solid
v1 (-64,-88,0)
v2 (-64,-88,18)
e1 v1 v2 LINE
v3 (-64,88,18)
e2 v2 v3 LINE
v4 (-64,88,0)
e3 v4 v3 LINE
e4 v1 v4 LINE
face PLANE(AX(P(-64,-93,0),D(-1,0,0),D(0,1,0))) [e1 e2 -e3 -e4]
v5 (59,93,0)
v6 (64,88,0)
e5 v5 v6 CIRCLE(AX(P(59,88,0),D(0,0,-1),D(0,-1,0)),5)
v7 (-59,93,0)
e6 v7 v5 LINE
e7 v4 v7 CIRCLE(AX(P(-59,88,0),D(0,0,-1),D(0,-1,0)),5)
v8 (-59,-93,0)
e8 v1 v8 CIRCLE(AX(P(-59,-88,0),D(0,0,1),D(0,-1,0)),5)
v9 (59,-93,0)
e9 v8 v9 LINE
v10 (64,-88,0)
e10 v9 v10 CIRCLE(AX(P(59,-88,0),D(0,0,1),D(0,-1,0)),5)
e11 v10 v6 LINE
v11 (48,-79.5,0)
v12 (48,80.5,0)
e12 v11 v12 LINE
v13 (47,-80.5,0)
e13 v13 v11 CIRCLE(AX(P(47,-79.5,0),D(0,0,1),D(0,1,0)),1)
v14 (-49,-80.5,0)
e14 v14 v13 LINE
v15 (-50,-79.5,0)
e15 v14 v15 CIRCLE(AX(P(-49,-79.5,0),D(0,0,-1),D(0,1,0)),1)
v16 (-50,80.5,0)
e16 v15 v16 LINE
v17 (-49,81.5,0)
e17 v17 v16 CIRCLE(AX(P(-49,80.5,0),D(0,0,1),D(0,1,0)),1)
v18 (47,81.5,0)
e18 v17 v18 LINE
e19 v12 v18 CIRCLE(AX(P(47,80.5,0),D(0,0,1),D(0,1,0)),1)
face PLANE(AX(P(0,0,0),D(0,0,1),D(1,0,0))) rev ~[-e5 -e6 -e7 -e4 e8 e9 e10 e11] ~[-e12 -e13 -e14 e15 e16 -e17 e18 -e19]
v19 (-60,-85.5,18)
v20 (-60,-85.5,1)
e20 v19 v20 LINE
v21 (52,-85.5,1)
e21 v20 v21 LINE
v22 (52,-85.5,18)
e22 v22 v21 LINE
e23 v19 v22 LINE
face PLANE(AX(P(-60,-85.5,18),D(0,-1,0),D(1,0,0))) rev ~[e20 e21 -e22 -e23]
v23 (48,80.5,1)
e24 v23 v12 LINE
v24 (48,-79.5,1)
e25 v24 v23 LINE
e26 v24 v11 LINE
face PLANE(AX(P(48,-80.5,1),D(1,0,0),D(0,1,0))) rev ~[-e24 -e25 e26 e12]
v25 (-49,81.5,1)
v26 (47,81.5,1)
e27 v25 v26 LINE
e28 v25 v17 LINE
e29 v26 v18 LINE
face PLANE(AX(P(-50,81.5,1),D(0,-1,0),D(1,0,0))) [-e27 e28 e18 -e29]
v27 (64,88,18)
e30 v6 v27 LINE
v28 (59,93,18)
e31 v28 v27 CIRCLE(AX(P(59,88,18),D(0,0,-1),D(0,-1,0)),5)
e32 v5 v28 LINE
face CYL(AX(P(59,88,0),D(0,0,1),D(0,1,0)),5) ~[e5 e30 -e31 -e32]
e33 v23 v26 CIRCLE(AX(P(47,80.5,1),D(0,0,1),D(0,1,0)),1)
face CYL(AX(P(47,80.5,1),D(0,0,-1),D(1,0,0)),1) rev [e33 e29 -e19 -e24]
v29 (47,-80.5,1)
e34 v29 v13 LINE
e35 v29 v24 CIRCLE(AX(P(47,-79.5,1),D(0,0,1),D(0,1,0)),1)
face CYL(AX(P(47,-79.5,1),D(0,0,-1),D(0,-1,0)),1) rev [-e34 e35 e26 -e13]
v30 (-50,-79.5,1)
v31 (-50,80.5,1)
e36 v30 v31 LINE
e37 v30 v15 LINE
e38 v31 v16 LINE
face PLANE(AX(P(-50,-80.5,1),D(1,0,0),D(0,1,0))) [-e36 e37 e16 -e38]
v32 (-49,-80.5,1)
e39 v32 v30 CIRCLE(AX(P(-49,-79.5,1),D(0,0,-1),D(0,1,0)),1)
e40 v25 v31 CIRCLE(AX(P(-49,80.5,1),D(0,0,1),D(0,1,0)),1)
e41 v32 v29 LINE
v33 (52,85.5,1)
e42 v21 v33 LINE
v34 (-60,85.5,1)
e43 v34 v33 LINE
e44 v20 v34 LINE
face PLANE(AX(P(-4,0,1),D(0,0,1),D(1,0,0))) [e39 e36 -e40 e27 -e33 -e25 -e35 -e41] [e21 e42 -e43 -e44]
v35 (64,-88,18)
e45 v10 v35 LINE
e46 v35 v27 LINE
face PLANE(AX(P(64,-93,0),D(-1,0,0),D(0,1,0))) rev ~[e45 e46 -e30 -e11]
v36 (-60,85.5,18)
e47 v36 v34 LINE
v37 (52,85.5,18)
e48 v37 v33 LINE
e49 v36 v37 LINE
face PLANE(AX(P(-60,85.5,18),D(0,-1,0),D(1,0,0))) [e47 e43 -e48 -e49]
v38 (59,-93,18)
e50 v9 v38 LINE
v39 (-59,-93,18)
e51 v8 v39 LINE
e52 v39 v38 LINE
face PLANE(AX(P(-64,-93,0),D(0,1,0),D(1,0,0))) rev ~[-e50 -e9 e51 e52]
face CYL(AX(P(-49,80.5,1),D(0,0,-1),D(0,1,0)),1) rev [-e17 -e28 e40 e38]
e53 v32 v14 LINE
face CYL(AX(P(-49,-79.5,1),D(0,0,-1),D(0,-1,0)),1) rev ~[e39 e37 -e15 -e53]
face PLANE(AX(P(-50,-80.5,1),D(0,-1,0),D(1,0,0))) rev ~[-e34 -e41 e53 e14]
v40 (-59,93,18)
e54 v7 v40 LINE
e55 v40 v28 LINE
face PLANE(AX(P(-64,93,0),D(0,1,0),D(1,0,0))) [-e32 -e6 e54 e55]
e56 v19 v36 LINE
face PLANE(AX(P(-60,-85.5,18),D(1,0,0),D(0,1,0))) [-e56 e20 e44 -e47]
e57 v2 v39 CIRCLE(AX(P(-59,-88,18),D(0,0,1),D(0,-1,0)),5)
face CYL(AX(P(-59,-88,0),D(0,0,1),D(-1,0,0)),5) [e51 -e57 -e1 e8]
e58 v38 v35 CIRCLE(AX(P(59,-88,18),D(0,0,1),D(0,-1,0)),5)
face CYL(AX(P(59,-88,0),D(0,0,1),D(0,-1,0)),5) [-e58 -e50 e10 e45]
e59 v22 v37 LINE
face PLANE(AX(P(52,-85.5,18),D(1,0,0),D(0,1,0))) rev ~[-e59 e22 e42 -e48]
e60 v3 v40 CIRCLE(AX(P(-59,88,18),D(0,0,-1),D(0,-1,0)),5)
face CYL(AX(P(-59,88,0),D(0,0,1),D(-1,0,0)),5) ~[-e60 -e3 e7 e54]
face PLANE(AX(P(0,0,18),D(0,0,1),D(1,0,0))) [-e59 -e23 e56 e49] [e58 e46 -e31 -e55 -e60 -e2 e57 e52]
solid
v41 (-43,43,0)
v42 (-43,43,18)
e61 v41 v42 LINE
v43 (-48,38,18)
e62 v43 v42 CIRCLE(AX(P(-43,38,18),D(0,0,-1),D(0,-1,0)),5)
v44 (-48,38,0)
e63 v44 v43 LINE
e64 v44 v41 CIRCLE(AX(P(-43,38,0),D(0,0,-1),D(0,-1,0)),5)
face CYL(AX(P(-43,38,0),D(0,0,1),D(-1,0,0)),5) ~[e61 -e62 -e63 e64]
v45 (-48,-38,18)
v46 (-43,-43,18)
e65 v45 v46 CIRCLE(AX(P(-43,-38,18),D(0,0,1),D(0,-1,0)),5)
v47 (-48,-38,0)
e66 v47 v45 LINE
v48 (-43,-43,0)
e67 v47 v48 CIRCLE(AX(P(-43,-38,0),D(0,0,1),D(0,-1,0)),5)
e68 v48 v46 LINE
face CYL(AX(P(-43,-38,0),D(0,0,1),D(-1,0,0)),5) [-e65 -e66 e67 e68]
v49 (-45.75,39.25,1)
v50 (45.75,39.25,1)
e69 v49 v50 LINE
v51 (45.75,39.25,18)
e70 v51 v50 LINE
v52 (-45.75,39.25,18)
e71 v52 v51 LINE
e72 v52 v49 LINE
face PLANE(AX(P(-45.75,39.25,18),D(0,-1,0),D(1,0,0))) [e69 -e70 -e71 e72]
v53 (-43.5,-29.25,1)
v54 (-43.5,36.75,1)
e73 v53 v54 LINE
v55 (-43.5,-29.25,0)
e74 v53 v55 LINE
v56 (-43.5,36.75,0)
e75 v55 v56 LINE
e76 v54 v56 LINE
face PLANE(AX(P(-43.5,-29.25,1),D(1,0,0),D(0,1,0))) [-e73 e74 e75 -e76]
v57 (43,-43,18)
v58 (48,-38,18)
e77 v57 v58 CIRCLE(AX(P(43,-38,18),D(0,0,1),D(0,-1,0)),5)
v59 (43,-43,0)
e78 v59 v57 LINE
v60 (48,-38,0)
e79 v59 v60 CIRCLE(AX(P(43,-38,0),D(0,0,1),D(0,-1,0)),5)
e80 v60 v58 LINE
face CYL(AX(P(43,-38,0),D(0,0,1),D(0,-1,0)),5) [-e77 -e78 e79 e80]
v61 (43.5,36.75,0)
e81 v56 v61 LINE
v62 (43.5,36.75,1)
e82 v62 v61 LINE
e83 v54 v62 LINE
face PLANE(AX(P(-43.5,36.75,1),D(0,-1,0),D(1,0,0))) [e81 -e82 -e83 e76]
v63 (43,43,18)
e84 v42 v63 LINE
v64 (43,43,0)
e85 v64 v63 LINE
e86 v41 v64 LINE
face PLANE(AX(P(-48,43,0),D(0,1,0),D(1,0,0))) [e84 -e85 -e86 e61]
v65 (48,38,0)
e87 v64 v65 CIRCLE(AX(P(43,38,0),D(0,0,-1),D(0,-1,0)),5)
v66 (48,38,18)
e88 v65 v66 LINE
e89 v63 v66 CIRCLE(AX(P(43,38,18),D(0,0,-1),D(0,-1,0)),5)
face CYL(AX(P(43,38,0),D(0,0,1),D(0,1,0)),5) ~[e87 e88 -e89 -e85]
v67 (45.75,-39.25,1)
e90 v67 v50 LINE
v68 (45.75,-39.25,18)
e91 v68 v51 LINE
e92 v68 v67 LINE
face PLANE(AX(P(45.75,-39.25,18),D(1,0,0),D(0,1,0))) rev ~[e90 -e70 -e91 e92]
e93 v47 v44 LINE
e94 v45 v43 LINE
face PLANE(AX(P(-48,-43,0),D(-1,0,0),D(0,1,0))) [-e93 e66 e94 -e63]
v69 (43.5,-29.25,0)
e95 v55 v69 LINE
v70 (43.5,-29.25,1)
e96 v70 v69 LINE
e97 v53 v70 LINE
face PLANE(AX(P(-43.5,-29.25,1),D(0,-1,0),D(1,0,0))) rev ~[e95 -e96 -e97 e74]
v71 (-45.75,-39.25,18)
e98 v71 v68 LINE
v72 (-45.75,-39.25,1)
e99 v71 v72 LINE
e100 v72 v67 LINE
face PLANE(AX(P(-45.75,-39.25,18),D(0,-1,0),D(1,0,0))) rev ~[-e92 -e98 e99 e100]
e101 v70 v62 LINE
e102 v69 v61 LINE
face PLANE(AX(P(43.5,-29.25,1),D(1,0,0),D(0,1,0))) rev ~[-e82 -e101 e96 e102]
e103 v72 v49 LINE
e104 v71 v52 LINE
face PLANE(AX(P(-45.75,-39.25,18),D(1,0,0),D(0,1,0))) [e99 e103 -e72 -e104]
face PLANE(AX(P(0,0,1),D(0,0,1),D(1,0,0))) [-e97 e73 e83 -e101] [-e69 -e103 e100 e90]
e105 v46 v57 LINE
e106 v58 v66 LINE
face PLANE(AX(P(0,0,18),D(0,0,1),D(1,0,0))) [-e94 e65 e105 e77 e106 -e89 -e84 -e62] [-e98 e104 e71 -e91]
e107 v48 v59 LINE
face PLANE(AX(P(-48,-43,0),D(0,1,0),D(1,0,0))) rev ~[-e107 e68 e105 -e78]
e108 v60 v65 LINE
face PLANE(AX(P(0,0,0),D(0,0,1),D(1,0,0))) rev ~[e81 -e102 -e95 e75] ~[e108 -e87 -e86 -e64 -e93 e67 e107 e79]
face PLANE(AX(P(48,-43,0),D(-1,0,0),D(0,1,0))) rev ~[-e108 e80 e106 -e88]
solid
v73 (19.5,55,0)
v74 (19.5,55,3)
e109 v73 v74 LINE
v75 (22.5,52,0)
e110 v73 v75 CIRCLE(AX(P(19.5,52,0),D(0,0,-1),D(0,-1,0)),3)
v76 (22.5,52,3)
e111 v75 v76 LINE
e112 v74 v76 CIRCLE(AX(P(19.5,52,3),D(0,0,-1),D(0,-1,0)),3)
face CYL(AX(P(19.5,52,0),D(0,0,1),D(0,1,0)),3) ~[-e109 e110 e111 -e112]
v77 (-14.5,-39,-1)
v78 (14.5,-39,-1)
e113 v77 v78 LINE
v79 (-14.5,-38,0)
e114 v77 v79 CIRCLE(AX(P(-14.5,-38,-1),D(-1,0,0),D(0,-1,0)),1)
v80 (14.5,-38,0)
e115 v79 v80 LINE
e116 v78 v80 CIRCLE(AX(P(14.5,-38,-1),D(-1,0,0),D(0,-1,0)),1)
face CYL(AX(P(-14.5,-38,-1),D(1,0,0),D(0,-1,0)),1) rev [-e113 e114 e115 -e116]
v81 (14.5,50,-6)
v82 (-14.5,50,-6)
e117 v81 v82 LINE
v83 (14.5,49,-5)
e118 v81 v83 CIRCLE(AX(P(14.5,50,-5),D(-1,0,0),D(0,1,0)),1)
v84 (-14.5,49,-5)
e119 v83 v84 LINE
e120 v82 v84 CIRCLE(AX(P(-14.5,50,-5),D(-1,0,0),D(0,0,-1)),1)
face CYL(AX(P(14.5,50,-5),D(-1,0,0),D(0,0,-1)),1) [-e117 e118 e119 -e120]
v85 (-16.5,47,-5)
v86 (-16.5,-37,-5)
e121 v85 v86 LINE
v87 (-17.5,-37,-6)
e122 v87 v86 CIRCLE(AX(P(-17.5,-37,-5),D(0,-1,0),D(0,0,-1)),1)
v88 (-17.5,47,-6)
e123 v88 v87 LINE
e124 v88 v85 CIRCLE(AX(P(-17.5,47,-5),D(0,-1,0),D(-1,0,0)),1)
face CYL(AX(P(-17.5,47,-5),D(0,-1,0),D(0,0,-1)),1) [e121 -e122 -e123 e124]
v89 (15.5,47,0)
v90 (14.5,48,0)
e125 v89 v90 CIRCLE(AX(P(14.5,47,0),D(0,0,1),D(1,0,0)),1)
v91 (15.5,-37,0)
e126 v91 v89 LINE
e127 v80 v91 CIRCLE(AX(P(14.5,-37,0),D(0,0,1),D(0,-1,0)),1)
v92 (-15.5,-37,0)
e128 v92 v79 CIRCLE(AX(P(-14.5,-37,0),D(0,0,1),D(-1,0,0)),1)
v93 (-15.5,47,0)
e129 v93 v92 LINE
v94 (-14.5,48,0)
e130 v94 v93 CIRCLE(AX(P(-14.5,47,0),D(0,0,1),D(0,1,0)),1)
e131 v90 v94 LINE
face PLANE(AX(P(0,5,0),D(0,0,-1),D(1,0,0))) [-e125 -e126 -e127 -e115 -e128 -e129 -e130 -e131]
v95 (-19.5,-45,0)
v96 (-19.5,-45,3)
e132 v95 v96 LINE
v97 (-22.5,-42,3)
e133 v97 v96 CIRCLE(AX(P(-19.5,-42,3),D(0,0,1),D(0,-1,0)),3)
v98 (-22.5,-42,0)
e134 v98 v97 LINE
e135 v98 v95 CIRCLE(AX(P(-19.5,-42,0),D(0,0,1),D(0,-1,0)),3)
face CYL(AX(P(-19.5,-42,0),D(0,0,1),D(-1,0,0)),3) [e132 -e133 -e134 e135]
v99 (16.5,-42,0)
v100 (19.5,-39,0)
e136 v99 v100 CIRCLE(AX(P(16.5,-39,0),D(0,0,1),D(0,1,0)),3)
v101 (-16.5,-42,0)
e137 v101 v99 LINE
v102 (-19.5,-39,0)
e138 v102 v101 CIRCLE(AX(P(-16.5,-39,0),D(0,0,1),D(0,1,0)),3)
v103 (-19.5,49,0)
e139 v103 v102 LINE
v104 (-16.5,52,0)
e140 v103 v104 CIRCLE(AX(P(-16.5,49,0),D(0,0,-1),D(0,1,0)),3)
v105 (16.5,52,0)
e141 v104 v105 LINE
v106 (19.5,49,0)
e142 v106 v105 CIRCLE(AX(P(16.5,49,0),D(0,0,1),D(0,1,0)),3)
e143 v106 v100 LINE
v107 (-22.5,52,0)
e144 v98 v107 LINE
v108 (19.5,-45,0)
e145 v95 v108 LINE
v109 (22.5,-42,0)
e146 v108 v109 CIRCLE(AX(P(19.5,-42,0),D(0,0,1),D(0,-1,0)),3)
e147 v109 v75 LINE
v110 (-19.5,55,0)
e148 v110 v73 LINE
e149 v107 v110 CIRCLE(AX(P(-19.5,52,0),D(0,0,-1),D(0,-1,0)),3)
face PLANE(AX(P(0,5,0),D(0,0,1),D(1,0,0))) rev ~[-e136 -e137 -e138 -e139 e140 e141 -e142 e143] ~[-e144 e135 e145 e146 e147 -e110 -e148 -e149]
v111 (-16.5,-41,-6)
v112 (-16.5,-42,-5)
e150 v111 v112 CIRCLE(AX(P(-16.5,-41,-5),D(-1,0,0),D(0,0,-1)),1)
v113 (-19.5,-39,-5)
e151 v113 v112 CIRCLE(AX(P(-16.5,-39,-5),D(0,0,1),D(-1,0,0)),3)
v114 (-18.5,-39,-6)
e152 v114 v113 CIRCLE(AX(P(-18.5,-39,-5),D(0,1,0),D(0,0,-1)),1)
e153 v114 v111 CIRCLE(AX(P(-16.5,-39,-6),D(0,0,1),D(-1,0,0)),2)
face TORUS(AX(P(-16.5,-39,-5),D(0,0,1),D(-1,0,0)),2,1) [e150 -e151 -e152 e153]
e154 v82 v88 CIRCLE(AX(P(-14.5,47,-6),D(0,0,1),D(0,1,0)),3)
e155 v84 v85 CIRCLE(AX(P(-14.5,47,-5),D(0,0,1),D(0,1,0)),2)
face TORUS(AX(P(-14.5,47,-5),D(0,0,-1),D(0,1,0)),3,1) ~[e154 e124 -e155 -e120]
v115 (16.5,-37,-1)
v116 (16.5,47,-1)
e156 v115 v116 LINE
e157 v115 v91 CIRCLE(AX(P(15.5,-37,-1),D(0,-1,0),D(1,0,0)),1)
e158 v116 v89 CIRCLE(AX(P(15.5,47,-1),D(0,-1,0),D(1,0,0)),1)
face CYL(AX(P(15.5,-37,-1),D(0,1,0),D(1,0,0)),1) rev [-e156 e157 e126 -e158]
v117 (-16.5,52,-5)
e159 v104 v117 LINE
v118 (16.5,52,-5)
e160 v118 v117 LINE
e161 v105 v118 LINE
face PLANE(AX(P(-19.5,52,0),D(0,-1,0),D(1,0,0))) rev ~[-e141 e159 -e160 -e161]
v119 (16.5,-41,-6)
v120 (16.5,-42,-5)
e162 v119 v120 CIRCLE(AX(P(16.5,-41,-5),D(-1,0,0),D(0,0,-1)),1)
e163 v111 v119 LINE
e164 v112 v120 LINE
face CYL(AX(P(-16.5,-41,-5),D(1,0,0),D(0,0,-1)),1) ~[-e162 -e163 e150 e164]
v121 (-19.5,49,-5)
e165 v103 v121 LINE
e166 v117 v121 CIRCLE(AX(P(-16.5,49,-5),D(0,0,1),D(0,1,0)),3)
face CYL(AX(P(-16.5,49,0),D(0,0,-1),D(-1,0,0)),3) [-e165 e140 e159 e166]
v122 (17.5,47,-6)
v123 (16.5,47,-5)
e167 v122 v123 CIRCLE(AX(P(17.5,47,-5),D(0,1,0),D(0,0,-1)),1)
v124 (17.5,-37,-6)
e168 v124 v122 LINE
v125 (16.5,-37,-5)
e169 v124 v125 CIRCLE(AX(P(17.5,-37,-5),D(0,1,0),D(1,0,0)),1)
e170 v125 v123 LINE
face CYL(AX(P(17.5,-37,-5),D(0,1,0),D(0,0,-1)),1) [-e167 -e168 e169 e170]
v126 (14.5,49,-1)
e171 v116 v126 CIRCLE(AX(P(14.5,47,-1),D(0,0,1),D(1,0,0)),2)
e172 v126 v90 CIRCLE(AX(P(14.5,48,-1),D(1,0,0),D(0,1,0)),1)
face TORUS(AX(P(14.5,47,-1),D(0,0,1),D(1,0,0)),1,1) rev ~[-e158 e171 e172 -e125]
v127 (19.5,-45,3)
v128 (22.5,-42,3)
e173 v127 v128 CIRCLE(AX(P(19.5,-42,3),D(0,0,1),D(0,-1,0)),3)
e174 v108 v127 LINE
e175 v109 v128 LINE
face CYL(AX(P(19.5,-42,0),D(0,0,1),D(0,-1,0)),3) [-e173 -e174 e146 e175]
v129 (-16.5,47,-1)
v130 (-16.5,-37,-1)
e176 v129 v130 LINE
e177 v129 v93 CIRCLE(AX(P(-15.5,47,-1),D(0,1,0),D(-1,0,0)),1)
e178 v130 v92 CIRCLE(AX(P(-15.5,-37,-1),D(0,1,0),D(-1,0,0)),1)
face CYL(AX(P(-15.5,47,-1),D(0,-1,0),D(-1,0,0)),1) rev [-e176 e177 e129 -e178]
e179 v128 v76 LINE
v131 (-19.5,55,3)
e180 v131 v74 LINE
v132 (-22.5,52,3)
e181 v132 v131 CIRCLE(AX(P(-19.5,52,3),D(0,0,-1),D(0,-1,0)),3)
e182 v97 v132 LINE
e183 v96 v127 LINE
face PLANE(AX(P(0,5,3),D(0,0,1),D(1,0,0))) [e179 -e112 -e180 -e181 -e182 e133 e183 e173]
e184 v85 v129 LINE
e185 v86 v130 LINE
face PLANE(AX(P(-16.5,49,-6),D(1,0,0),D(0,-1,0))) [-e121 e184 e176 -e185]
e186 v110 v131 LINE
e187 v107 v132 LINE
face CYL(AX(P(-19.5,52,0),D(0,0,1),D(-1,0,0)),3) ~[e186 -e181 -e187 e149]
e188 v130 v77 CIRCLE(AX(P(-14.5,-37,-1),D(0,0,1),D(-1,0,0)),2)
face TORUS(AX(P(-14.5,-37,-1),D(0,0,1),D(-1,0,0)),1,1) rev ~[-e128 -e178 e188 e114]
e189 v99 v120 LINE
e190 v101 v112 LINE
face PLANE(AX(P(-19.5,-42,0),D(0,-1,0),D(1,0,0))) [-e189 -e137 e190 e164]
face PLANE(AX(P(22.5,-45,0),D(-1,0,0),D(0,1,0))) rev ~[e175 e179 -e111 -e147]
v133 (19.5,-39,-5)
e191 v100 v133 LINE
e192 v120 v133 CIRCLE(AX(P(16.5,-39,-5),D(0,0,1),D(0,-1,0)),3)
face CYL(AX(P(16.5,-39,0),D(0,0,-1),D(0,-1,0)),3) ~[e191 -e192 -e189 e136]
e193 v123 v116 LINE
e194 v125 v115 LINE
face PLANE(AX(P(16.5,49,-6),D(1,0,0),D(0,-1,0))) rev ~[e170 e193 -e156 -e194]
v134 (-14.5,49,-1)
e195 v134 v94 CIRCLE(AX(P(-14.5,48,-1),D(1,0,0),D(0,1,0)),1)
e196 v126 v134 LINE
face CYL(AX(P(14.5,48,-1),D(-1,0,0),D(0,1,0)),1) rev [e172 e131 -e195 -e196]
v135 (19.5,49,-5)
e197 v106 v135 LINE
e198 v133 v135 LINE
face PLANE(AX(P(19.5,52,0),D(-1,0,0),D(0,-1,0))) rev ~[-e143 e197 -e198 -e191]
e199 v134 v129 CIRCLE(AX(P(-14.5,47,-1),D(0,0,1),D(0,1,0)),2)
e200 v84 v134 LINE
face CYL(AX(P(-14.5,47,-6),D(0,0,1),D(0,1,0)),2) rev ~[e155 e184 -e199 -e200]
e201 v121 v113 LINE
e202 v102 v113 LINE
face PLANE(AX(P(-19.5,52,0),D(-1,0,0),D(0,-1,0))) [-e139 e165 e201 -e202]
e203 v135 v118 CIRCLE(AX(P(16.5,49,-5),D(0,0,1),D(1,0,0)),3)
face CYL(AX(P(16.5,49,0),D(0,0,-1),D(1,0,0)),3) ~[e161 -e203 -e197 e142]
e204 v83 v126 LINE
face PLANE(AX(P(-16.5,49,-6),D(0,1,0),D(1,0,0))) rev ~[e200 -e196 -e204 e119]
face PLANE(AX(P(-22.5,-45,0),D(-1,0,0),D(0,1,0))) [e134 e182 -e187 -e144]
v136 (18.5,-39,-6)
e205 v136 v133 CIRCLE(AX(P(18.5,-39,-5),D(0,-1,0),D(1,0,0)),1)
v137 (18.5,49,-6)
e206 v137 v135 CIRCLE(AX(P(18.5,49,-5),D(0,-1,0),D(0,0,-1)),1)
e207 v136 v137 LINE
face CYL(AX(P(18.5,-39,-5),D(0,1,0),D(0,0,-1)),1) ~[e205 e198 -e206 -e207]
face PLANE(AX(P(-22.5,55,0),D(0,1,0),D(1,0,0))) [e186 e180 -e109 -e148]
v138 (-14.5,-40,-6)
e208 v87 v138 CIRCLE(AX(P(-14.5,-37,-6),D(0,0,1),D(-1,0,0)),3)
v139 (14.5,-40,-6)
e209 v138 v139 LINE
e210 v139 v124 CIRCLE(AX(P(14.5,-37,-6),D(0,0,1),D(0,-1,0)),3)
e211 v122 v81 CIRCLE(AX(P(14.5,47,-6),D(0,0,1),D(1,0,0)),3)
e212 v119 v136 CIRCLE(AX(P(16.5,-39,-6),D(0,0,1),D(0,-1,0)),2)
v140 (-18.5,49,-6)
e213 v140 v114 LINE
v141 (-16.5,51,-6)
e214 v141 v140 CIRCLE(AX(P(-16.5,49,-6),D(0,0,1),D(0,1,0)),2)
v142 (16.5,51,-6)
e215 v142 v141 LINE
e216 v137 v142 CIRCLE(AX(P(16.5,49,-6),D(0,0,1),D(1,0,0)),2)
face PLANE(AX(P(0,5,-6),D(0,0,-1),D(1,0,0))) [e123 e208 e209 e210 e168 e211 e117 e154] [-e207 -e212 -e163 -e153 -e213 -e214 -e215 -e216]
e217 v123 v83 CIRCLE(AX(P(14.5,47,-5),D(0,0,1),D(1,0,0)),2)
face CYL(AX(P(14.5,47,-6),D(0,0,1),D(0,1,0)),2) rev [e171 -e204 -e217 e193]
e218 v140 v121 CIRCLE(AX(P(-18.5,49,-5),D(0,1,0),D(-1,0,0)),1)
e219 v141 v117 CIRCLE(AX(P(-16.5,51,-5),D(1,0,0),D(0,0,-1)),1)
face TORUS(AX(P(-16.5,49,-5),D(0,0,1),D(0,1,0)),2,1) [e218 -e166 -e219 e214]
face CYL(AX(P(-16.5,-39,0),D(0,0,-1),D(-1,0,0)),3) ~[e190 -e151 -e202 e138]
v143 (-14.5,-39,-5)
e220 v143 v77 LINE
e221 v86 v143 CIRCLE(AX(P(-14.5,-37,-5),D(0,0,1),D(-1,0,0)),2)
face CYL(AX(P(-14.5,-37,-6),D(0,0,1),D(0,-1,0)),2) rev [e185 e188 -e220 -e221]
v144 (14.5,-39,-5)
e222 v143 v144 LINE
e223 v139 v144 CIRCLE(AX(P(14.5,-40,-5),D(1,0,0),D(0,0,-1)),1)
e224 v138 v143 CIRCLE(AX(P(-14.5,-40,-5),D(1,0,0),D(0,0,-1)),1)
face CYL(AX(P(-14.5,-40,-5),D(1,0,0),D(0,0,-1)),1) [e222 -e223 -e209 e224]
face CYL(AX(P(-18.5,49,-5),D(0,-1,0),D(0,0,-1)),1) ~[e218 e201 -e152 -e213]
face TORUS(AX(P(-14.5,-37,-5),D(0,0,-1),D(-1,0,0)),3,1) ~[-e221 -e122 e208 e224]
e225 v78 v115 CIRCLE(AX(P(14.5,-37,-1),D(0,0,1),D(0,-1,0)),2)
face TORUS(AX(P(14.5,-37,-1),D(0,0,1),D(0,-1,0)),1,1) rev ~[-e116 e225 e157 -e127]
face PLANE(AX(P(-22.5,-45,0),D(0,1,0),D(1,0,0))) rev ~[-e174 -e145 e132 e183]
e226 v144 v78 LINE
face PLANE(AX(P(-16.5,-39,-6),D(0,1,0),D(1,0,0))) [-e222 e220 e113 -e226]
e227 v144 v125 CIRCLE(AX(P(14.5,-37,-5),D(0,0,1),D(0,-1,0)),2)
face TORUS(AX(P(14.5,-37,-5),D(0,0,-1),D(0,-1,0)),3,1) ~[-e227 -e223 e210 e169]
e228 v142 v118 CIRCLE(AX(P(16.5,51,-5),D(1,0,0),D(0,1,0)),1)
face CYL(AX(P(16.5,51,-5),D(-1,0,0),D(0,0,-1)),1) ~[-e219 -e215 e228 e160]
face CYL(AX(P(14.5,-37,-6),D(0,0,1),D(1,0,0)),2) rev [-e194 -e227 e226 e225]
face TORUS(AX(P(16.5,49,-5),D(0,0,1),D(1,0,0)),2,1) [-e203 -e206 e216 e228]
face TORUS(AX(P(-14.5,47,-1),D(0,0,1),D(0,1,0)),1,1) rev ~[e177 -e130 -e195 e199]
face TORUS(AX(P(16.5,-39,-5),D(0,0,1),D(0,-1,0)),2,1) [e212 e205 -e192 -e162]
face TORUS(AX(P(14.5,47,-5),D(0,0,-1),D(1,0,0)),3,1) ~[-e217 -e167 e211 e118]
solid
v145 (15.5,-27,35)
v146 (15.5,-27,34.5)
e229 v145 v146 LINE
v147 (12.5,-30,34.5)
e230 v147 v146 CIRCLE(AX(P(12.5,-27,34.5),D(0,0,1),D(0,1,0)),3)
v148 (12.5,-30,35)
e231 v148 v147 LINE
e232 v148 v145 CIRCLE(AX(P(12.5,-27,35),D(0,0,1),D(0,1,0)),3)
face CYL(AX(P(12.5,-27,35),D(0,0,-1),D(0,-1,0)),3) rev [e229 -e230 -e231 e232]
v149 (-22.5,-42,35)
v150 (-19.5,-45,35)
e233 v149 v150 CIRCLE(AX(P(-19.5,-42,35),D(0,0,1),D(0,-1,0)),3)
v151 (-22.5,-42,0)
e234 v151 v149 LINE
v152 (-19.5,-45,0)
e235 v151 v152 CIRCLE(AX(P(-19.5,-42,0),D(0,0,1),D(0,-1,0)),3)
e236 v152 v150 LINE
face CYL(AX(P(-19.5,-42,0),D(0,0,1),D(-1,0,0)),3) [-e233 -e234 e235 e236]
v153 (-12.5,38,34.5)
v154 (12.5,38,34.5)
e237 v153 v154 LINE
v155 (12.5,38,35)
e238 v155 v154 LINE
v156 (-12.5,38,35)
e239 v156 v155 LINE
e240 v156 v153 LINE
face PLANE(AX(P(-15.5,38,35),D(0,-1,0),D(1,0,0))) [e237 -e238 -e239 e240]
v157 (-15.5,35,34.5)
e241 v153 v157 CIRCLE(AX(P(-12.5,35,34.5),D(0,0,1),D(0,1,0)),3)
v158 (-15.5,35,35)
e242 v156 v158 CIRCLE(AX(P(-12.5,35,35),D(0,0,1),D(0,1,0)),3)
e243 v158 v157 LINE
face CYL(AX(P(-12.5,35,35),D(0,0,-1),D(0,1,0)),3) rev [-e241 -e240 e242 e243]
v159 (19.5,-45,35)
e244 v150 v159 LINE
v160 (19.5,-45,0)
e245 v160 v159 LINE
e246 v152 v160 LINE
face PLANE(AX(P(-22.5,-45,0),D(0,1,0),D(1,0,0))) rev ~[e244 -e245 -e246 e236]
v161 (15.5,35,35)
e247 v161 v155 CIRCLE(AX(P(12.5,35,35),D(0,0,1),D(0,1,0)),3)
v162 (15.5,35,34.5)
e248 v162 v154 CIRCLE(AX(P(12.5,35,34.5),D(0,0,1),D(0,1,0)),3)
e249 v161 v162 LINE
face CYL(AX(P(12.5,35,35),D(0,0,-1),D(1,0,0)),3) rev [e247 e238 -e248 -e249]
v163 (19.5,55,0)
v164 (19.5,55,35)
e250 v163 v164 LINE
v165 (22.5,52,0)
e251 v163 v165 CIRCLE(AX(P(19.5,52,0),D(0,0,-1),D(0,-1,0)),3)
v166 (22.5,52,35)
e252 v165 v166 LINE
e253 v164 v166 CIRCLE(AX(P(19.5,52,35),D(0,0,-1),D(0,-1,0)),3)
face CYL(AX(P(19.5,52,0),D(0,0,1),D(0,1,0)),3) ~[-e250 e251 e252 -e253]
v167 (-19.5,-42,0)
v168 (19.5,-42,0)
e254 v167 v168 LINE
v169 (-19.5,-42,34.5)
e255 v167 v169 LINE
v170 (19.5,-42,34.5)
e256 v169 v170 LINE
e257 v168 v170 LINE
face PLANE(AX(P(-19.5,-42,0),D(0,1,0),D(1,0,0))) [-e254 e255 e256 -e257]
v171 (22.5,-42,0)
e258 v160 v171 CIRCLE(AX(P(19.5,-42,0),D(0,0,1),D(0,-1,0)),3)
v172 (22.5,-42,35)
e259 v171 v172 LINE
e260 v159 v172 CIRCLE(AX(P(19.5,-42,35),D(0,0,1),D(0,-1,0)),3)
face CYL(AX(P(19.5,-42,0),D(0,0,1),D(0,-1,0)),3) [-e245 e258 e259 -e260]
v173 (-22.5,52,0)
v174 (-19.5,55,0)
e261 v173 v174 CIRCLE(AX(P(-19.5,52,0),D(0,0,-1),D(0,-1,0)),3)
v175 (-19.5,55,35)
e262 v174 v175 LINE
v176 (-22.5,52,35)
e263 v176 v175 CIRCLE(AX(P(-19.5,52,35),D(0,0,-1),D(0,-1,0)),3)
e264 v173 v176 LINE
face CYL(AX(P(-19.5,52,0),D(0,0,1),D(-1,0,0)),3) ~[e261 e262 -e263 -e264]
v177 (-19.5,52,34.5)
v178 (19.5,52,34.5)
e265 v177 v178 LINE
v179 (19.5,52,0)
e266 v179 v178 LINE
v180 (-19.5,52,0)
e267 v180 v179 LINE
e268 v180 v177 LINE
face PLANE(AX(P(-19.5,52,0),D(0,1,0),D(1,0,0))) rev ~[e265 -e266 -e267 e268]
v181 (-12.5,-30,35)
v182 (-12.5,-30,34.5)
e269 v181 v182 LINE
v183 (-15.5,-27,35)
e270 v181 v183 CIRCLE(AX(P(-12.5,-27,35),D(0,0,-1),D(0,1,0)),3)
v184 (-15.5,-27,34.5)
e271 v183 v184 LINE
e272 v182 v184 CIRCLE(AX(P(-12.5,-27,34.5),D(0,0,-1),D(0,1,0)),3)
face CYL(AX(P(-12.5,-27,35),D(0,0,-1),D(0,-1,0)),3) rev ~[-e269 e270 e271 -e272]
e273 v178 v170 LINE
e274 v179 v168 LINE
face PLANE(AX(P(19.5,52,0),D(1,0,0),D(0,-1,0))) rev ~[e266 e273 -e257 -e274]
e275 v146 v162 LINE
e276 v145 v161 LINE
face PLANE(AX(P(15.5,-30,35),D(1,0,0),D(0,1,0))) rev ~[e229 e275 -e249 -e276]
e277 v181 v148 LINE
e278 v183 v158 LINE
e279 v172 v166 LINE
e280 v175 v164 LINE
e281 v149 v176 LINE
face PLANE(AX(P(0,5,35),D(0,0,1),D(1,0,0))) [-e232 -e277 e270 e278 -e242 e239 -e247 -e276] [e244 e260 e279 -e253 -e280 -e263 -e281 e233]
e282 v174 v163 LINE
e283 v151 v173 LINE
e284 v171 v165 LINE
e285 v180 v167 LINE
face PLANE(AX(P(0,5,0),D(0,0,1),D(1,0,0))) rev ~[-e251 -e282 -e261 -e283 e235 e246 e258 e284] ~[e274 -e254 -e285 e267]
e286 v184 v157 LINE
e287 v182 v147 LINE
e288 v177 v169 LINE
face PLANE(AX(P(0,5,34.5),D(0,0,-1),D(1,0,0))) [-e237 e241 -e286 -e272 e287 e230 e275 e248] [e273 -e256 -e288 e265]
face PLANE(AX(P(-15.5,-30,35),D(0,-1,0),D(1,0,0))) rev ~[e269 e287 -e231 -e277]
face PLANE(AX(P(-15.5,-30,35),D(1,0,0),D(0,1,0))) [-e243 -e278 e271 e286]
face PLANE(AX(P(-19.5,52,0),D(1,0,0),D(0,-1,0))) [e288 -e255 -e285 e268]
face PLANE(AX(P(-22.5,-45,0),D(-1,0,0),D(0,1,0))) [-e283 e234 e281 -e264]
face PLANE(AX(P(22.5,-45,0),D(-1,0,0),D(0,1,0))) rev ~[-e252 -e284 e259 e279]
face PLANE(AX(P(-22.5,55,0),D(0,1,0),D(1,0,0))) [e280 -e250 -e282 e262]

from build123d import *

# Parameters (mm, degrees)
SKETCH_W        = 45
SKETCH_H        = 100
PAD_DEPTH       = 35
SKETCH001_W     = 31
SKETCH001_H     = 68
POCKET_DEPTH    = 35.001
SKETCH002_W     = 39
SKETCH002_H     = 94
POCKET001_DEPTH = 34.5
FILLET_R        = 3
SKETCH003_W     = 45
SKETCH003_H     = 100
PAD001_DEPTH    = 3
SKETCH005_W     = 39
SKETCH005_H     = 94
PAD002_DEPTH    = 6
FILLET001_R     = 3
SKETCH006_W     = 33
SKETCH006_H     = 88
POCKET002_DEPTH = 6
FILLET002_R     = 2
FILLET003_R     = 1
SKETCH007_W     = 96
SKETCH007_H     = 86
PAD003_DEPTH    = 18
SKETCH008_W     = 91.5
SKETCH008_H     = 78.5
POCKET003_DEPTH = 17
SKETCH009_W     = 87
SKETCH009_H     = 66
POCKET004_DEPTH = 1.001
FILLET004_R     = 5
SKETCH010_W     = 128
SKETCH010_H     = 186
PAD004_DEPTH    = 18
SKETCH011_W     = 112
SKETCH011_H     = 171
POCKET005_DEPTH = 17
SKETCH012_W     = 98
SKETCH012_H     = 162
POCKET006_DEPTH = 1.001
FILLET005_R     = 5
FILLET006_R     = 1


with BuildPart() as body:
    # Sketch → Pad (new body)
    with BuildSketch(Plane.XY):
        with Locations((0, 5)):
            Rectangle(SKETCH_W, SKETCH_H)
    extrude(amount=PAD_DEPTH)

    # Sketch001 (on Face6 of Pad) → Pocket (cut, through all)
    with BuildSketch(Plane.XY.offset(35)):
        with Locations((0, 4)):
            Rectangle(SKETCH001_W, SKETCH001_H)
    extrude(amount=-POCKET_DEPTH, mode=Mode.SUBTRACT)

    # Sketch002 (on Face4 of Pocket) → Pocket001 (cut)
    with BuildSketch(Plane(origin=(0, 0, 0), x_dir=(1, 0, 0), z_dir=(0, 0, -1))):
        with Locations((0, -5)):
            Rectangle(SKETCH002_W, SKETCH002_H)
    extrude(amount=-POCKET001_DEPTH, mode=Mode.SUBTRACT)

    # Fillet
    fillet_edges = [body.edges().sort_by_distance(p)[0] for p in [
        (15.5, 38, 34.75),
        (15.5, -30, 34.75),
        (-15.5, -30, 34.75),
        (-15.5, 38, 34.75),
        (22.5, 55, 17.5),
        (22.5, -45, 17.5),
        (-22.5, -45, 17.5),
        (-22.5, 55, 17.5),
    ]]
    fillet(fillet_edges, radius=FILLET_R)


with BuildPart() as lid:
    # Sketch003 → Pad001 (new body)
    with BuildSketch(Plane.XY):
        with Locations((0, 5)):
            Rectangle(SKETCH003_W, SKETCH003_H)
    extrude(amount=PAD001_DEPTH)

    # Sketch005 (on Face5 of Pad001) → Pad002 (join)
    with BuildSketch(Plane(origin=(0, 0, 0), x_dir=(1, 0, 0), z_dir=(0, 0, -1))):
        with Locations((0, -5)):
            Rectangle(SKETCH005_W, SKETCH005_H)
    extrude(amount=PAD002_DEPTH)

    # Fillet001
    fillet001_edges = [lid.edges().sort_by_distance(p)[0] for p in [
        (22.5, -45, 1.5),
        (19.5, -42, -3),
        (22.5, 55, 1.5),
        (19.5, 52, -3),
        (-22.5, -45, 1.5),
        (-19.5, -42, -3),
        (-22.5, 55, 1.5),
        (-19.5, 52, -3),
    ]]
    fillet(fillet001_edges, radius=FILLET001_R)

    # Sketch006 (on Face19 of Fillet001) → Pocket002 (cut)
    with BuildSketch(Plane(origin=(0, 0, -6), x_dir=(1, 0, 0), z_dir=(0, 0, -1))):
        with Locations((0, -5)):
            Rectangle(SKETCH006_W, SKETCH006_H)
    extrude(amount=-POCKET002_DEPTH, mode=Mode.SUBTRACT)

    # Fillet002
    fillet002_edges = [lid.edges().sort_by_distance(p)[0] for p in [
        (16.5, 49, -3),
        (-16.5, 49, -3),
        (-16.5, -39, -3),
        (16.5, -39, -3),
    ]]
    fillet(fillet002_edges, radius=FILLET002_R)

    # Fillet003
    fillet003_edges = [lid.edges().sort_by_distance(p)[0] for p in [
        (0, -39, 0),
        (-15.914214, -38.414214, 0),
        (15.914214, -38.414214, 0),
        (-16.5, 5, 0),
        (16.5, 5, 0),
        (-15.914214, 48.414214, 0),
        (15.914214, 48.414214, 0),
        (0, 49, 0),
        (0, -39, -6),
        (-15.914214, -38.414214, -6),
        (15.914214, -38.414214, -6),
        (-16.5, 5, -6),
        (16.5, 5, -6),
        (-15.914214, 48.414214, -6),
        (15.914214, 48.414214, -6),
        (0, 49, -6),
        (0, -42, -6),
        (-18.62132, -41.12132, -6),
        (18.62132, -41.12132, -6),
        (-19.5, 5, -6),
        (19.5, 5, -6),
        (-18.62132, 51.12132, -6),
        (18.62132, 51.12132, -6),
        (0, 52, -6),
    ]]
    fillet(fillet003_edges, radius=FILLET003_R)


with BuildPart() as screen_panel:
    # Sketch007 → Pad003 (new body)
    with BuildSketch(Plane.XY):
        Rectangle(SKETCH007_W, SKETCH007_H)
    extrude(amount=PAD003_DEPTH)

    # Sketch008 (on Face6 of Pad003) → Pocket003 (cut)
    with BuildSketch(Plane.XY.offset(18)):
        Rectangle(SKETCH008_W, SKETCH008_H)
    extrude(amount=-POCKET003_DEPTH, mode=Mode.SUBTRACT)

    # Sketch009 (on Face11 of Pocket003) → Pocket004 (cut, through all)
    with BuildSketch(Plane.XY.offset(1)):
        with Locations((0, 3.75)):
            Rectangle(SKETCH009_W, SKETCH009_H)
    extrude(amount=-POCKET004_DEPTH, mode=Mode.SUBTRACT)

    # Fillet004
    fillet004_edges = [screen_panel.edges().sort_by_distance(p)[0] for p in [
        (-48, -43, 9),
        (-48, 43, 9),
        (48, 43, 9),
        (48, -43, 9),
    ]]
    fillet(fillet004_edges, radius=FILLET004_R)


with BuildPart() as body003:
    # Sketch010 → Pad004 (new body)
    with BuildSketch(Plane.XY):
        Rectangle(SKETCH010_W, SKETCH010_H)
    extrude(amount=PAD004_DEPTH)

    # Sketch011 (on Face6 of Pad004) → Pocket005 (cut)
    with BuildSketch(Plane.XY.offset(18)):
        with Locations((-4, 0)):
            Rectangle(SKETCH011_W, SKETCH011_H)
    extrude(amount=-POCKET005_DEPTH, mode=Mode.SUBTRACT)

    # Sketch012 (on Face11 of Pocket005) → Pocket006 (cut, through all)
    with BuildSketch(Plane.XY.offset(1)):
        with Locations((-1, 0.5)):
            Rectangle(SKETCH012_W, SKETCH012_H)
    extrude(amount=-POCKET006_DEPTH, mode=Mode.SUBTRACT)

    # Fillet005
    fillet005_edges = [body003.edges().sort_by_distance(p)[0] for p in [
        (-64, -93, 9),
        (-64, 93, 9),
        (64, 93, 9),
        (64, -93, 9),
    ]]
    fillet(fillet005_edges, radius=FILLET005_R)

    # Fillet006
    fillet006_edges = [body003.edges().sort_by_distance(p)[0] for p in [
        (-50, -80.5, 0.5),
        (48, -80.5, 0.5),
        (48, 81.5, 0.5),
        (-50, 81.5, 0.5),
    ]]
    fillet(fillet006_edges, radius=FILLET006_R)


solid = Compound([body.part, lid.part, screen_panel.part, body003.part])
